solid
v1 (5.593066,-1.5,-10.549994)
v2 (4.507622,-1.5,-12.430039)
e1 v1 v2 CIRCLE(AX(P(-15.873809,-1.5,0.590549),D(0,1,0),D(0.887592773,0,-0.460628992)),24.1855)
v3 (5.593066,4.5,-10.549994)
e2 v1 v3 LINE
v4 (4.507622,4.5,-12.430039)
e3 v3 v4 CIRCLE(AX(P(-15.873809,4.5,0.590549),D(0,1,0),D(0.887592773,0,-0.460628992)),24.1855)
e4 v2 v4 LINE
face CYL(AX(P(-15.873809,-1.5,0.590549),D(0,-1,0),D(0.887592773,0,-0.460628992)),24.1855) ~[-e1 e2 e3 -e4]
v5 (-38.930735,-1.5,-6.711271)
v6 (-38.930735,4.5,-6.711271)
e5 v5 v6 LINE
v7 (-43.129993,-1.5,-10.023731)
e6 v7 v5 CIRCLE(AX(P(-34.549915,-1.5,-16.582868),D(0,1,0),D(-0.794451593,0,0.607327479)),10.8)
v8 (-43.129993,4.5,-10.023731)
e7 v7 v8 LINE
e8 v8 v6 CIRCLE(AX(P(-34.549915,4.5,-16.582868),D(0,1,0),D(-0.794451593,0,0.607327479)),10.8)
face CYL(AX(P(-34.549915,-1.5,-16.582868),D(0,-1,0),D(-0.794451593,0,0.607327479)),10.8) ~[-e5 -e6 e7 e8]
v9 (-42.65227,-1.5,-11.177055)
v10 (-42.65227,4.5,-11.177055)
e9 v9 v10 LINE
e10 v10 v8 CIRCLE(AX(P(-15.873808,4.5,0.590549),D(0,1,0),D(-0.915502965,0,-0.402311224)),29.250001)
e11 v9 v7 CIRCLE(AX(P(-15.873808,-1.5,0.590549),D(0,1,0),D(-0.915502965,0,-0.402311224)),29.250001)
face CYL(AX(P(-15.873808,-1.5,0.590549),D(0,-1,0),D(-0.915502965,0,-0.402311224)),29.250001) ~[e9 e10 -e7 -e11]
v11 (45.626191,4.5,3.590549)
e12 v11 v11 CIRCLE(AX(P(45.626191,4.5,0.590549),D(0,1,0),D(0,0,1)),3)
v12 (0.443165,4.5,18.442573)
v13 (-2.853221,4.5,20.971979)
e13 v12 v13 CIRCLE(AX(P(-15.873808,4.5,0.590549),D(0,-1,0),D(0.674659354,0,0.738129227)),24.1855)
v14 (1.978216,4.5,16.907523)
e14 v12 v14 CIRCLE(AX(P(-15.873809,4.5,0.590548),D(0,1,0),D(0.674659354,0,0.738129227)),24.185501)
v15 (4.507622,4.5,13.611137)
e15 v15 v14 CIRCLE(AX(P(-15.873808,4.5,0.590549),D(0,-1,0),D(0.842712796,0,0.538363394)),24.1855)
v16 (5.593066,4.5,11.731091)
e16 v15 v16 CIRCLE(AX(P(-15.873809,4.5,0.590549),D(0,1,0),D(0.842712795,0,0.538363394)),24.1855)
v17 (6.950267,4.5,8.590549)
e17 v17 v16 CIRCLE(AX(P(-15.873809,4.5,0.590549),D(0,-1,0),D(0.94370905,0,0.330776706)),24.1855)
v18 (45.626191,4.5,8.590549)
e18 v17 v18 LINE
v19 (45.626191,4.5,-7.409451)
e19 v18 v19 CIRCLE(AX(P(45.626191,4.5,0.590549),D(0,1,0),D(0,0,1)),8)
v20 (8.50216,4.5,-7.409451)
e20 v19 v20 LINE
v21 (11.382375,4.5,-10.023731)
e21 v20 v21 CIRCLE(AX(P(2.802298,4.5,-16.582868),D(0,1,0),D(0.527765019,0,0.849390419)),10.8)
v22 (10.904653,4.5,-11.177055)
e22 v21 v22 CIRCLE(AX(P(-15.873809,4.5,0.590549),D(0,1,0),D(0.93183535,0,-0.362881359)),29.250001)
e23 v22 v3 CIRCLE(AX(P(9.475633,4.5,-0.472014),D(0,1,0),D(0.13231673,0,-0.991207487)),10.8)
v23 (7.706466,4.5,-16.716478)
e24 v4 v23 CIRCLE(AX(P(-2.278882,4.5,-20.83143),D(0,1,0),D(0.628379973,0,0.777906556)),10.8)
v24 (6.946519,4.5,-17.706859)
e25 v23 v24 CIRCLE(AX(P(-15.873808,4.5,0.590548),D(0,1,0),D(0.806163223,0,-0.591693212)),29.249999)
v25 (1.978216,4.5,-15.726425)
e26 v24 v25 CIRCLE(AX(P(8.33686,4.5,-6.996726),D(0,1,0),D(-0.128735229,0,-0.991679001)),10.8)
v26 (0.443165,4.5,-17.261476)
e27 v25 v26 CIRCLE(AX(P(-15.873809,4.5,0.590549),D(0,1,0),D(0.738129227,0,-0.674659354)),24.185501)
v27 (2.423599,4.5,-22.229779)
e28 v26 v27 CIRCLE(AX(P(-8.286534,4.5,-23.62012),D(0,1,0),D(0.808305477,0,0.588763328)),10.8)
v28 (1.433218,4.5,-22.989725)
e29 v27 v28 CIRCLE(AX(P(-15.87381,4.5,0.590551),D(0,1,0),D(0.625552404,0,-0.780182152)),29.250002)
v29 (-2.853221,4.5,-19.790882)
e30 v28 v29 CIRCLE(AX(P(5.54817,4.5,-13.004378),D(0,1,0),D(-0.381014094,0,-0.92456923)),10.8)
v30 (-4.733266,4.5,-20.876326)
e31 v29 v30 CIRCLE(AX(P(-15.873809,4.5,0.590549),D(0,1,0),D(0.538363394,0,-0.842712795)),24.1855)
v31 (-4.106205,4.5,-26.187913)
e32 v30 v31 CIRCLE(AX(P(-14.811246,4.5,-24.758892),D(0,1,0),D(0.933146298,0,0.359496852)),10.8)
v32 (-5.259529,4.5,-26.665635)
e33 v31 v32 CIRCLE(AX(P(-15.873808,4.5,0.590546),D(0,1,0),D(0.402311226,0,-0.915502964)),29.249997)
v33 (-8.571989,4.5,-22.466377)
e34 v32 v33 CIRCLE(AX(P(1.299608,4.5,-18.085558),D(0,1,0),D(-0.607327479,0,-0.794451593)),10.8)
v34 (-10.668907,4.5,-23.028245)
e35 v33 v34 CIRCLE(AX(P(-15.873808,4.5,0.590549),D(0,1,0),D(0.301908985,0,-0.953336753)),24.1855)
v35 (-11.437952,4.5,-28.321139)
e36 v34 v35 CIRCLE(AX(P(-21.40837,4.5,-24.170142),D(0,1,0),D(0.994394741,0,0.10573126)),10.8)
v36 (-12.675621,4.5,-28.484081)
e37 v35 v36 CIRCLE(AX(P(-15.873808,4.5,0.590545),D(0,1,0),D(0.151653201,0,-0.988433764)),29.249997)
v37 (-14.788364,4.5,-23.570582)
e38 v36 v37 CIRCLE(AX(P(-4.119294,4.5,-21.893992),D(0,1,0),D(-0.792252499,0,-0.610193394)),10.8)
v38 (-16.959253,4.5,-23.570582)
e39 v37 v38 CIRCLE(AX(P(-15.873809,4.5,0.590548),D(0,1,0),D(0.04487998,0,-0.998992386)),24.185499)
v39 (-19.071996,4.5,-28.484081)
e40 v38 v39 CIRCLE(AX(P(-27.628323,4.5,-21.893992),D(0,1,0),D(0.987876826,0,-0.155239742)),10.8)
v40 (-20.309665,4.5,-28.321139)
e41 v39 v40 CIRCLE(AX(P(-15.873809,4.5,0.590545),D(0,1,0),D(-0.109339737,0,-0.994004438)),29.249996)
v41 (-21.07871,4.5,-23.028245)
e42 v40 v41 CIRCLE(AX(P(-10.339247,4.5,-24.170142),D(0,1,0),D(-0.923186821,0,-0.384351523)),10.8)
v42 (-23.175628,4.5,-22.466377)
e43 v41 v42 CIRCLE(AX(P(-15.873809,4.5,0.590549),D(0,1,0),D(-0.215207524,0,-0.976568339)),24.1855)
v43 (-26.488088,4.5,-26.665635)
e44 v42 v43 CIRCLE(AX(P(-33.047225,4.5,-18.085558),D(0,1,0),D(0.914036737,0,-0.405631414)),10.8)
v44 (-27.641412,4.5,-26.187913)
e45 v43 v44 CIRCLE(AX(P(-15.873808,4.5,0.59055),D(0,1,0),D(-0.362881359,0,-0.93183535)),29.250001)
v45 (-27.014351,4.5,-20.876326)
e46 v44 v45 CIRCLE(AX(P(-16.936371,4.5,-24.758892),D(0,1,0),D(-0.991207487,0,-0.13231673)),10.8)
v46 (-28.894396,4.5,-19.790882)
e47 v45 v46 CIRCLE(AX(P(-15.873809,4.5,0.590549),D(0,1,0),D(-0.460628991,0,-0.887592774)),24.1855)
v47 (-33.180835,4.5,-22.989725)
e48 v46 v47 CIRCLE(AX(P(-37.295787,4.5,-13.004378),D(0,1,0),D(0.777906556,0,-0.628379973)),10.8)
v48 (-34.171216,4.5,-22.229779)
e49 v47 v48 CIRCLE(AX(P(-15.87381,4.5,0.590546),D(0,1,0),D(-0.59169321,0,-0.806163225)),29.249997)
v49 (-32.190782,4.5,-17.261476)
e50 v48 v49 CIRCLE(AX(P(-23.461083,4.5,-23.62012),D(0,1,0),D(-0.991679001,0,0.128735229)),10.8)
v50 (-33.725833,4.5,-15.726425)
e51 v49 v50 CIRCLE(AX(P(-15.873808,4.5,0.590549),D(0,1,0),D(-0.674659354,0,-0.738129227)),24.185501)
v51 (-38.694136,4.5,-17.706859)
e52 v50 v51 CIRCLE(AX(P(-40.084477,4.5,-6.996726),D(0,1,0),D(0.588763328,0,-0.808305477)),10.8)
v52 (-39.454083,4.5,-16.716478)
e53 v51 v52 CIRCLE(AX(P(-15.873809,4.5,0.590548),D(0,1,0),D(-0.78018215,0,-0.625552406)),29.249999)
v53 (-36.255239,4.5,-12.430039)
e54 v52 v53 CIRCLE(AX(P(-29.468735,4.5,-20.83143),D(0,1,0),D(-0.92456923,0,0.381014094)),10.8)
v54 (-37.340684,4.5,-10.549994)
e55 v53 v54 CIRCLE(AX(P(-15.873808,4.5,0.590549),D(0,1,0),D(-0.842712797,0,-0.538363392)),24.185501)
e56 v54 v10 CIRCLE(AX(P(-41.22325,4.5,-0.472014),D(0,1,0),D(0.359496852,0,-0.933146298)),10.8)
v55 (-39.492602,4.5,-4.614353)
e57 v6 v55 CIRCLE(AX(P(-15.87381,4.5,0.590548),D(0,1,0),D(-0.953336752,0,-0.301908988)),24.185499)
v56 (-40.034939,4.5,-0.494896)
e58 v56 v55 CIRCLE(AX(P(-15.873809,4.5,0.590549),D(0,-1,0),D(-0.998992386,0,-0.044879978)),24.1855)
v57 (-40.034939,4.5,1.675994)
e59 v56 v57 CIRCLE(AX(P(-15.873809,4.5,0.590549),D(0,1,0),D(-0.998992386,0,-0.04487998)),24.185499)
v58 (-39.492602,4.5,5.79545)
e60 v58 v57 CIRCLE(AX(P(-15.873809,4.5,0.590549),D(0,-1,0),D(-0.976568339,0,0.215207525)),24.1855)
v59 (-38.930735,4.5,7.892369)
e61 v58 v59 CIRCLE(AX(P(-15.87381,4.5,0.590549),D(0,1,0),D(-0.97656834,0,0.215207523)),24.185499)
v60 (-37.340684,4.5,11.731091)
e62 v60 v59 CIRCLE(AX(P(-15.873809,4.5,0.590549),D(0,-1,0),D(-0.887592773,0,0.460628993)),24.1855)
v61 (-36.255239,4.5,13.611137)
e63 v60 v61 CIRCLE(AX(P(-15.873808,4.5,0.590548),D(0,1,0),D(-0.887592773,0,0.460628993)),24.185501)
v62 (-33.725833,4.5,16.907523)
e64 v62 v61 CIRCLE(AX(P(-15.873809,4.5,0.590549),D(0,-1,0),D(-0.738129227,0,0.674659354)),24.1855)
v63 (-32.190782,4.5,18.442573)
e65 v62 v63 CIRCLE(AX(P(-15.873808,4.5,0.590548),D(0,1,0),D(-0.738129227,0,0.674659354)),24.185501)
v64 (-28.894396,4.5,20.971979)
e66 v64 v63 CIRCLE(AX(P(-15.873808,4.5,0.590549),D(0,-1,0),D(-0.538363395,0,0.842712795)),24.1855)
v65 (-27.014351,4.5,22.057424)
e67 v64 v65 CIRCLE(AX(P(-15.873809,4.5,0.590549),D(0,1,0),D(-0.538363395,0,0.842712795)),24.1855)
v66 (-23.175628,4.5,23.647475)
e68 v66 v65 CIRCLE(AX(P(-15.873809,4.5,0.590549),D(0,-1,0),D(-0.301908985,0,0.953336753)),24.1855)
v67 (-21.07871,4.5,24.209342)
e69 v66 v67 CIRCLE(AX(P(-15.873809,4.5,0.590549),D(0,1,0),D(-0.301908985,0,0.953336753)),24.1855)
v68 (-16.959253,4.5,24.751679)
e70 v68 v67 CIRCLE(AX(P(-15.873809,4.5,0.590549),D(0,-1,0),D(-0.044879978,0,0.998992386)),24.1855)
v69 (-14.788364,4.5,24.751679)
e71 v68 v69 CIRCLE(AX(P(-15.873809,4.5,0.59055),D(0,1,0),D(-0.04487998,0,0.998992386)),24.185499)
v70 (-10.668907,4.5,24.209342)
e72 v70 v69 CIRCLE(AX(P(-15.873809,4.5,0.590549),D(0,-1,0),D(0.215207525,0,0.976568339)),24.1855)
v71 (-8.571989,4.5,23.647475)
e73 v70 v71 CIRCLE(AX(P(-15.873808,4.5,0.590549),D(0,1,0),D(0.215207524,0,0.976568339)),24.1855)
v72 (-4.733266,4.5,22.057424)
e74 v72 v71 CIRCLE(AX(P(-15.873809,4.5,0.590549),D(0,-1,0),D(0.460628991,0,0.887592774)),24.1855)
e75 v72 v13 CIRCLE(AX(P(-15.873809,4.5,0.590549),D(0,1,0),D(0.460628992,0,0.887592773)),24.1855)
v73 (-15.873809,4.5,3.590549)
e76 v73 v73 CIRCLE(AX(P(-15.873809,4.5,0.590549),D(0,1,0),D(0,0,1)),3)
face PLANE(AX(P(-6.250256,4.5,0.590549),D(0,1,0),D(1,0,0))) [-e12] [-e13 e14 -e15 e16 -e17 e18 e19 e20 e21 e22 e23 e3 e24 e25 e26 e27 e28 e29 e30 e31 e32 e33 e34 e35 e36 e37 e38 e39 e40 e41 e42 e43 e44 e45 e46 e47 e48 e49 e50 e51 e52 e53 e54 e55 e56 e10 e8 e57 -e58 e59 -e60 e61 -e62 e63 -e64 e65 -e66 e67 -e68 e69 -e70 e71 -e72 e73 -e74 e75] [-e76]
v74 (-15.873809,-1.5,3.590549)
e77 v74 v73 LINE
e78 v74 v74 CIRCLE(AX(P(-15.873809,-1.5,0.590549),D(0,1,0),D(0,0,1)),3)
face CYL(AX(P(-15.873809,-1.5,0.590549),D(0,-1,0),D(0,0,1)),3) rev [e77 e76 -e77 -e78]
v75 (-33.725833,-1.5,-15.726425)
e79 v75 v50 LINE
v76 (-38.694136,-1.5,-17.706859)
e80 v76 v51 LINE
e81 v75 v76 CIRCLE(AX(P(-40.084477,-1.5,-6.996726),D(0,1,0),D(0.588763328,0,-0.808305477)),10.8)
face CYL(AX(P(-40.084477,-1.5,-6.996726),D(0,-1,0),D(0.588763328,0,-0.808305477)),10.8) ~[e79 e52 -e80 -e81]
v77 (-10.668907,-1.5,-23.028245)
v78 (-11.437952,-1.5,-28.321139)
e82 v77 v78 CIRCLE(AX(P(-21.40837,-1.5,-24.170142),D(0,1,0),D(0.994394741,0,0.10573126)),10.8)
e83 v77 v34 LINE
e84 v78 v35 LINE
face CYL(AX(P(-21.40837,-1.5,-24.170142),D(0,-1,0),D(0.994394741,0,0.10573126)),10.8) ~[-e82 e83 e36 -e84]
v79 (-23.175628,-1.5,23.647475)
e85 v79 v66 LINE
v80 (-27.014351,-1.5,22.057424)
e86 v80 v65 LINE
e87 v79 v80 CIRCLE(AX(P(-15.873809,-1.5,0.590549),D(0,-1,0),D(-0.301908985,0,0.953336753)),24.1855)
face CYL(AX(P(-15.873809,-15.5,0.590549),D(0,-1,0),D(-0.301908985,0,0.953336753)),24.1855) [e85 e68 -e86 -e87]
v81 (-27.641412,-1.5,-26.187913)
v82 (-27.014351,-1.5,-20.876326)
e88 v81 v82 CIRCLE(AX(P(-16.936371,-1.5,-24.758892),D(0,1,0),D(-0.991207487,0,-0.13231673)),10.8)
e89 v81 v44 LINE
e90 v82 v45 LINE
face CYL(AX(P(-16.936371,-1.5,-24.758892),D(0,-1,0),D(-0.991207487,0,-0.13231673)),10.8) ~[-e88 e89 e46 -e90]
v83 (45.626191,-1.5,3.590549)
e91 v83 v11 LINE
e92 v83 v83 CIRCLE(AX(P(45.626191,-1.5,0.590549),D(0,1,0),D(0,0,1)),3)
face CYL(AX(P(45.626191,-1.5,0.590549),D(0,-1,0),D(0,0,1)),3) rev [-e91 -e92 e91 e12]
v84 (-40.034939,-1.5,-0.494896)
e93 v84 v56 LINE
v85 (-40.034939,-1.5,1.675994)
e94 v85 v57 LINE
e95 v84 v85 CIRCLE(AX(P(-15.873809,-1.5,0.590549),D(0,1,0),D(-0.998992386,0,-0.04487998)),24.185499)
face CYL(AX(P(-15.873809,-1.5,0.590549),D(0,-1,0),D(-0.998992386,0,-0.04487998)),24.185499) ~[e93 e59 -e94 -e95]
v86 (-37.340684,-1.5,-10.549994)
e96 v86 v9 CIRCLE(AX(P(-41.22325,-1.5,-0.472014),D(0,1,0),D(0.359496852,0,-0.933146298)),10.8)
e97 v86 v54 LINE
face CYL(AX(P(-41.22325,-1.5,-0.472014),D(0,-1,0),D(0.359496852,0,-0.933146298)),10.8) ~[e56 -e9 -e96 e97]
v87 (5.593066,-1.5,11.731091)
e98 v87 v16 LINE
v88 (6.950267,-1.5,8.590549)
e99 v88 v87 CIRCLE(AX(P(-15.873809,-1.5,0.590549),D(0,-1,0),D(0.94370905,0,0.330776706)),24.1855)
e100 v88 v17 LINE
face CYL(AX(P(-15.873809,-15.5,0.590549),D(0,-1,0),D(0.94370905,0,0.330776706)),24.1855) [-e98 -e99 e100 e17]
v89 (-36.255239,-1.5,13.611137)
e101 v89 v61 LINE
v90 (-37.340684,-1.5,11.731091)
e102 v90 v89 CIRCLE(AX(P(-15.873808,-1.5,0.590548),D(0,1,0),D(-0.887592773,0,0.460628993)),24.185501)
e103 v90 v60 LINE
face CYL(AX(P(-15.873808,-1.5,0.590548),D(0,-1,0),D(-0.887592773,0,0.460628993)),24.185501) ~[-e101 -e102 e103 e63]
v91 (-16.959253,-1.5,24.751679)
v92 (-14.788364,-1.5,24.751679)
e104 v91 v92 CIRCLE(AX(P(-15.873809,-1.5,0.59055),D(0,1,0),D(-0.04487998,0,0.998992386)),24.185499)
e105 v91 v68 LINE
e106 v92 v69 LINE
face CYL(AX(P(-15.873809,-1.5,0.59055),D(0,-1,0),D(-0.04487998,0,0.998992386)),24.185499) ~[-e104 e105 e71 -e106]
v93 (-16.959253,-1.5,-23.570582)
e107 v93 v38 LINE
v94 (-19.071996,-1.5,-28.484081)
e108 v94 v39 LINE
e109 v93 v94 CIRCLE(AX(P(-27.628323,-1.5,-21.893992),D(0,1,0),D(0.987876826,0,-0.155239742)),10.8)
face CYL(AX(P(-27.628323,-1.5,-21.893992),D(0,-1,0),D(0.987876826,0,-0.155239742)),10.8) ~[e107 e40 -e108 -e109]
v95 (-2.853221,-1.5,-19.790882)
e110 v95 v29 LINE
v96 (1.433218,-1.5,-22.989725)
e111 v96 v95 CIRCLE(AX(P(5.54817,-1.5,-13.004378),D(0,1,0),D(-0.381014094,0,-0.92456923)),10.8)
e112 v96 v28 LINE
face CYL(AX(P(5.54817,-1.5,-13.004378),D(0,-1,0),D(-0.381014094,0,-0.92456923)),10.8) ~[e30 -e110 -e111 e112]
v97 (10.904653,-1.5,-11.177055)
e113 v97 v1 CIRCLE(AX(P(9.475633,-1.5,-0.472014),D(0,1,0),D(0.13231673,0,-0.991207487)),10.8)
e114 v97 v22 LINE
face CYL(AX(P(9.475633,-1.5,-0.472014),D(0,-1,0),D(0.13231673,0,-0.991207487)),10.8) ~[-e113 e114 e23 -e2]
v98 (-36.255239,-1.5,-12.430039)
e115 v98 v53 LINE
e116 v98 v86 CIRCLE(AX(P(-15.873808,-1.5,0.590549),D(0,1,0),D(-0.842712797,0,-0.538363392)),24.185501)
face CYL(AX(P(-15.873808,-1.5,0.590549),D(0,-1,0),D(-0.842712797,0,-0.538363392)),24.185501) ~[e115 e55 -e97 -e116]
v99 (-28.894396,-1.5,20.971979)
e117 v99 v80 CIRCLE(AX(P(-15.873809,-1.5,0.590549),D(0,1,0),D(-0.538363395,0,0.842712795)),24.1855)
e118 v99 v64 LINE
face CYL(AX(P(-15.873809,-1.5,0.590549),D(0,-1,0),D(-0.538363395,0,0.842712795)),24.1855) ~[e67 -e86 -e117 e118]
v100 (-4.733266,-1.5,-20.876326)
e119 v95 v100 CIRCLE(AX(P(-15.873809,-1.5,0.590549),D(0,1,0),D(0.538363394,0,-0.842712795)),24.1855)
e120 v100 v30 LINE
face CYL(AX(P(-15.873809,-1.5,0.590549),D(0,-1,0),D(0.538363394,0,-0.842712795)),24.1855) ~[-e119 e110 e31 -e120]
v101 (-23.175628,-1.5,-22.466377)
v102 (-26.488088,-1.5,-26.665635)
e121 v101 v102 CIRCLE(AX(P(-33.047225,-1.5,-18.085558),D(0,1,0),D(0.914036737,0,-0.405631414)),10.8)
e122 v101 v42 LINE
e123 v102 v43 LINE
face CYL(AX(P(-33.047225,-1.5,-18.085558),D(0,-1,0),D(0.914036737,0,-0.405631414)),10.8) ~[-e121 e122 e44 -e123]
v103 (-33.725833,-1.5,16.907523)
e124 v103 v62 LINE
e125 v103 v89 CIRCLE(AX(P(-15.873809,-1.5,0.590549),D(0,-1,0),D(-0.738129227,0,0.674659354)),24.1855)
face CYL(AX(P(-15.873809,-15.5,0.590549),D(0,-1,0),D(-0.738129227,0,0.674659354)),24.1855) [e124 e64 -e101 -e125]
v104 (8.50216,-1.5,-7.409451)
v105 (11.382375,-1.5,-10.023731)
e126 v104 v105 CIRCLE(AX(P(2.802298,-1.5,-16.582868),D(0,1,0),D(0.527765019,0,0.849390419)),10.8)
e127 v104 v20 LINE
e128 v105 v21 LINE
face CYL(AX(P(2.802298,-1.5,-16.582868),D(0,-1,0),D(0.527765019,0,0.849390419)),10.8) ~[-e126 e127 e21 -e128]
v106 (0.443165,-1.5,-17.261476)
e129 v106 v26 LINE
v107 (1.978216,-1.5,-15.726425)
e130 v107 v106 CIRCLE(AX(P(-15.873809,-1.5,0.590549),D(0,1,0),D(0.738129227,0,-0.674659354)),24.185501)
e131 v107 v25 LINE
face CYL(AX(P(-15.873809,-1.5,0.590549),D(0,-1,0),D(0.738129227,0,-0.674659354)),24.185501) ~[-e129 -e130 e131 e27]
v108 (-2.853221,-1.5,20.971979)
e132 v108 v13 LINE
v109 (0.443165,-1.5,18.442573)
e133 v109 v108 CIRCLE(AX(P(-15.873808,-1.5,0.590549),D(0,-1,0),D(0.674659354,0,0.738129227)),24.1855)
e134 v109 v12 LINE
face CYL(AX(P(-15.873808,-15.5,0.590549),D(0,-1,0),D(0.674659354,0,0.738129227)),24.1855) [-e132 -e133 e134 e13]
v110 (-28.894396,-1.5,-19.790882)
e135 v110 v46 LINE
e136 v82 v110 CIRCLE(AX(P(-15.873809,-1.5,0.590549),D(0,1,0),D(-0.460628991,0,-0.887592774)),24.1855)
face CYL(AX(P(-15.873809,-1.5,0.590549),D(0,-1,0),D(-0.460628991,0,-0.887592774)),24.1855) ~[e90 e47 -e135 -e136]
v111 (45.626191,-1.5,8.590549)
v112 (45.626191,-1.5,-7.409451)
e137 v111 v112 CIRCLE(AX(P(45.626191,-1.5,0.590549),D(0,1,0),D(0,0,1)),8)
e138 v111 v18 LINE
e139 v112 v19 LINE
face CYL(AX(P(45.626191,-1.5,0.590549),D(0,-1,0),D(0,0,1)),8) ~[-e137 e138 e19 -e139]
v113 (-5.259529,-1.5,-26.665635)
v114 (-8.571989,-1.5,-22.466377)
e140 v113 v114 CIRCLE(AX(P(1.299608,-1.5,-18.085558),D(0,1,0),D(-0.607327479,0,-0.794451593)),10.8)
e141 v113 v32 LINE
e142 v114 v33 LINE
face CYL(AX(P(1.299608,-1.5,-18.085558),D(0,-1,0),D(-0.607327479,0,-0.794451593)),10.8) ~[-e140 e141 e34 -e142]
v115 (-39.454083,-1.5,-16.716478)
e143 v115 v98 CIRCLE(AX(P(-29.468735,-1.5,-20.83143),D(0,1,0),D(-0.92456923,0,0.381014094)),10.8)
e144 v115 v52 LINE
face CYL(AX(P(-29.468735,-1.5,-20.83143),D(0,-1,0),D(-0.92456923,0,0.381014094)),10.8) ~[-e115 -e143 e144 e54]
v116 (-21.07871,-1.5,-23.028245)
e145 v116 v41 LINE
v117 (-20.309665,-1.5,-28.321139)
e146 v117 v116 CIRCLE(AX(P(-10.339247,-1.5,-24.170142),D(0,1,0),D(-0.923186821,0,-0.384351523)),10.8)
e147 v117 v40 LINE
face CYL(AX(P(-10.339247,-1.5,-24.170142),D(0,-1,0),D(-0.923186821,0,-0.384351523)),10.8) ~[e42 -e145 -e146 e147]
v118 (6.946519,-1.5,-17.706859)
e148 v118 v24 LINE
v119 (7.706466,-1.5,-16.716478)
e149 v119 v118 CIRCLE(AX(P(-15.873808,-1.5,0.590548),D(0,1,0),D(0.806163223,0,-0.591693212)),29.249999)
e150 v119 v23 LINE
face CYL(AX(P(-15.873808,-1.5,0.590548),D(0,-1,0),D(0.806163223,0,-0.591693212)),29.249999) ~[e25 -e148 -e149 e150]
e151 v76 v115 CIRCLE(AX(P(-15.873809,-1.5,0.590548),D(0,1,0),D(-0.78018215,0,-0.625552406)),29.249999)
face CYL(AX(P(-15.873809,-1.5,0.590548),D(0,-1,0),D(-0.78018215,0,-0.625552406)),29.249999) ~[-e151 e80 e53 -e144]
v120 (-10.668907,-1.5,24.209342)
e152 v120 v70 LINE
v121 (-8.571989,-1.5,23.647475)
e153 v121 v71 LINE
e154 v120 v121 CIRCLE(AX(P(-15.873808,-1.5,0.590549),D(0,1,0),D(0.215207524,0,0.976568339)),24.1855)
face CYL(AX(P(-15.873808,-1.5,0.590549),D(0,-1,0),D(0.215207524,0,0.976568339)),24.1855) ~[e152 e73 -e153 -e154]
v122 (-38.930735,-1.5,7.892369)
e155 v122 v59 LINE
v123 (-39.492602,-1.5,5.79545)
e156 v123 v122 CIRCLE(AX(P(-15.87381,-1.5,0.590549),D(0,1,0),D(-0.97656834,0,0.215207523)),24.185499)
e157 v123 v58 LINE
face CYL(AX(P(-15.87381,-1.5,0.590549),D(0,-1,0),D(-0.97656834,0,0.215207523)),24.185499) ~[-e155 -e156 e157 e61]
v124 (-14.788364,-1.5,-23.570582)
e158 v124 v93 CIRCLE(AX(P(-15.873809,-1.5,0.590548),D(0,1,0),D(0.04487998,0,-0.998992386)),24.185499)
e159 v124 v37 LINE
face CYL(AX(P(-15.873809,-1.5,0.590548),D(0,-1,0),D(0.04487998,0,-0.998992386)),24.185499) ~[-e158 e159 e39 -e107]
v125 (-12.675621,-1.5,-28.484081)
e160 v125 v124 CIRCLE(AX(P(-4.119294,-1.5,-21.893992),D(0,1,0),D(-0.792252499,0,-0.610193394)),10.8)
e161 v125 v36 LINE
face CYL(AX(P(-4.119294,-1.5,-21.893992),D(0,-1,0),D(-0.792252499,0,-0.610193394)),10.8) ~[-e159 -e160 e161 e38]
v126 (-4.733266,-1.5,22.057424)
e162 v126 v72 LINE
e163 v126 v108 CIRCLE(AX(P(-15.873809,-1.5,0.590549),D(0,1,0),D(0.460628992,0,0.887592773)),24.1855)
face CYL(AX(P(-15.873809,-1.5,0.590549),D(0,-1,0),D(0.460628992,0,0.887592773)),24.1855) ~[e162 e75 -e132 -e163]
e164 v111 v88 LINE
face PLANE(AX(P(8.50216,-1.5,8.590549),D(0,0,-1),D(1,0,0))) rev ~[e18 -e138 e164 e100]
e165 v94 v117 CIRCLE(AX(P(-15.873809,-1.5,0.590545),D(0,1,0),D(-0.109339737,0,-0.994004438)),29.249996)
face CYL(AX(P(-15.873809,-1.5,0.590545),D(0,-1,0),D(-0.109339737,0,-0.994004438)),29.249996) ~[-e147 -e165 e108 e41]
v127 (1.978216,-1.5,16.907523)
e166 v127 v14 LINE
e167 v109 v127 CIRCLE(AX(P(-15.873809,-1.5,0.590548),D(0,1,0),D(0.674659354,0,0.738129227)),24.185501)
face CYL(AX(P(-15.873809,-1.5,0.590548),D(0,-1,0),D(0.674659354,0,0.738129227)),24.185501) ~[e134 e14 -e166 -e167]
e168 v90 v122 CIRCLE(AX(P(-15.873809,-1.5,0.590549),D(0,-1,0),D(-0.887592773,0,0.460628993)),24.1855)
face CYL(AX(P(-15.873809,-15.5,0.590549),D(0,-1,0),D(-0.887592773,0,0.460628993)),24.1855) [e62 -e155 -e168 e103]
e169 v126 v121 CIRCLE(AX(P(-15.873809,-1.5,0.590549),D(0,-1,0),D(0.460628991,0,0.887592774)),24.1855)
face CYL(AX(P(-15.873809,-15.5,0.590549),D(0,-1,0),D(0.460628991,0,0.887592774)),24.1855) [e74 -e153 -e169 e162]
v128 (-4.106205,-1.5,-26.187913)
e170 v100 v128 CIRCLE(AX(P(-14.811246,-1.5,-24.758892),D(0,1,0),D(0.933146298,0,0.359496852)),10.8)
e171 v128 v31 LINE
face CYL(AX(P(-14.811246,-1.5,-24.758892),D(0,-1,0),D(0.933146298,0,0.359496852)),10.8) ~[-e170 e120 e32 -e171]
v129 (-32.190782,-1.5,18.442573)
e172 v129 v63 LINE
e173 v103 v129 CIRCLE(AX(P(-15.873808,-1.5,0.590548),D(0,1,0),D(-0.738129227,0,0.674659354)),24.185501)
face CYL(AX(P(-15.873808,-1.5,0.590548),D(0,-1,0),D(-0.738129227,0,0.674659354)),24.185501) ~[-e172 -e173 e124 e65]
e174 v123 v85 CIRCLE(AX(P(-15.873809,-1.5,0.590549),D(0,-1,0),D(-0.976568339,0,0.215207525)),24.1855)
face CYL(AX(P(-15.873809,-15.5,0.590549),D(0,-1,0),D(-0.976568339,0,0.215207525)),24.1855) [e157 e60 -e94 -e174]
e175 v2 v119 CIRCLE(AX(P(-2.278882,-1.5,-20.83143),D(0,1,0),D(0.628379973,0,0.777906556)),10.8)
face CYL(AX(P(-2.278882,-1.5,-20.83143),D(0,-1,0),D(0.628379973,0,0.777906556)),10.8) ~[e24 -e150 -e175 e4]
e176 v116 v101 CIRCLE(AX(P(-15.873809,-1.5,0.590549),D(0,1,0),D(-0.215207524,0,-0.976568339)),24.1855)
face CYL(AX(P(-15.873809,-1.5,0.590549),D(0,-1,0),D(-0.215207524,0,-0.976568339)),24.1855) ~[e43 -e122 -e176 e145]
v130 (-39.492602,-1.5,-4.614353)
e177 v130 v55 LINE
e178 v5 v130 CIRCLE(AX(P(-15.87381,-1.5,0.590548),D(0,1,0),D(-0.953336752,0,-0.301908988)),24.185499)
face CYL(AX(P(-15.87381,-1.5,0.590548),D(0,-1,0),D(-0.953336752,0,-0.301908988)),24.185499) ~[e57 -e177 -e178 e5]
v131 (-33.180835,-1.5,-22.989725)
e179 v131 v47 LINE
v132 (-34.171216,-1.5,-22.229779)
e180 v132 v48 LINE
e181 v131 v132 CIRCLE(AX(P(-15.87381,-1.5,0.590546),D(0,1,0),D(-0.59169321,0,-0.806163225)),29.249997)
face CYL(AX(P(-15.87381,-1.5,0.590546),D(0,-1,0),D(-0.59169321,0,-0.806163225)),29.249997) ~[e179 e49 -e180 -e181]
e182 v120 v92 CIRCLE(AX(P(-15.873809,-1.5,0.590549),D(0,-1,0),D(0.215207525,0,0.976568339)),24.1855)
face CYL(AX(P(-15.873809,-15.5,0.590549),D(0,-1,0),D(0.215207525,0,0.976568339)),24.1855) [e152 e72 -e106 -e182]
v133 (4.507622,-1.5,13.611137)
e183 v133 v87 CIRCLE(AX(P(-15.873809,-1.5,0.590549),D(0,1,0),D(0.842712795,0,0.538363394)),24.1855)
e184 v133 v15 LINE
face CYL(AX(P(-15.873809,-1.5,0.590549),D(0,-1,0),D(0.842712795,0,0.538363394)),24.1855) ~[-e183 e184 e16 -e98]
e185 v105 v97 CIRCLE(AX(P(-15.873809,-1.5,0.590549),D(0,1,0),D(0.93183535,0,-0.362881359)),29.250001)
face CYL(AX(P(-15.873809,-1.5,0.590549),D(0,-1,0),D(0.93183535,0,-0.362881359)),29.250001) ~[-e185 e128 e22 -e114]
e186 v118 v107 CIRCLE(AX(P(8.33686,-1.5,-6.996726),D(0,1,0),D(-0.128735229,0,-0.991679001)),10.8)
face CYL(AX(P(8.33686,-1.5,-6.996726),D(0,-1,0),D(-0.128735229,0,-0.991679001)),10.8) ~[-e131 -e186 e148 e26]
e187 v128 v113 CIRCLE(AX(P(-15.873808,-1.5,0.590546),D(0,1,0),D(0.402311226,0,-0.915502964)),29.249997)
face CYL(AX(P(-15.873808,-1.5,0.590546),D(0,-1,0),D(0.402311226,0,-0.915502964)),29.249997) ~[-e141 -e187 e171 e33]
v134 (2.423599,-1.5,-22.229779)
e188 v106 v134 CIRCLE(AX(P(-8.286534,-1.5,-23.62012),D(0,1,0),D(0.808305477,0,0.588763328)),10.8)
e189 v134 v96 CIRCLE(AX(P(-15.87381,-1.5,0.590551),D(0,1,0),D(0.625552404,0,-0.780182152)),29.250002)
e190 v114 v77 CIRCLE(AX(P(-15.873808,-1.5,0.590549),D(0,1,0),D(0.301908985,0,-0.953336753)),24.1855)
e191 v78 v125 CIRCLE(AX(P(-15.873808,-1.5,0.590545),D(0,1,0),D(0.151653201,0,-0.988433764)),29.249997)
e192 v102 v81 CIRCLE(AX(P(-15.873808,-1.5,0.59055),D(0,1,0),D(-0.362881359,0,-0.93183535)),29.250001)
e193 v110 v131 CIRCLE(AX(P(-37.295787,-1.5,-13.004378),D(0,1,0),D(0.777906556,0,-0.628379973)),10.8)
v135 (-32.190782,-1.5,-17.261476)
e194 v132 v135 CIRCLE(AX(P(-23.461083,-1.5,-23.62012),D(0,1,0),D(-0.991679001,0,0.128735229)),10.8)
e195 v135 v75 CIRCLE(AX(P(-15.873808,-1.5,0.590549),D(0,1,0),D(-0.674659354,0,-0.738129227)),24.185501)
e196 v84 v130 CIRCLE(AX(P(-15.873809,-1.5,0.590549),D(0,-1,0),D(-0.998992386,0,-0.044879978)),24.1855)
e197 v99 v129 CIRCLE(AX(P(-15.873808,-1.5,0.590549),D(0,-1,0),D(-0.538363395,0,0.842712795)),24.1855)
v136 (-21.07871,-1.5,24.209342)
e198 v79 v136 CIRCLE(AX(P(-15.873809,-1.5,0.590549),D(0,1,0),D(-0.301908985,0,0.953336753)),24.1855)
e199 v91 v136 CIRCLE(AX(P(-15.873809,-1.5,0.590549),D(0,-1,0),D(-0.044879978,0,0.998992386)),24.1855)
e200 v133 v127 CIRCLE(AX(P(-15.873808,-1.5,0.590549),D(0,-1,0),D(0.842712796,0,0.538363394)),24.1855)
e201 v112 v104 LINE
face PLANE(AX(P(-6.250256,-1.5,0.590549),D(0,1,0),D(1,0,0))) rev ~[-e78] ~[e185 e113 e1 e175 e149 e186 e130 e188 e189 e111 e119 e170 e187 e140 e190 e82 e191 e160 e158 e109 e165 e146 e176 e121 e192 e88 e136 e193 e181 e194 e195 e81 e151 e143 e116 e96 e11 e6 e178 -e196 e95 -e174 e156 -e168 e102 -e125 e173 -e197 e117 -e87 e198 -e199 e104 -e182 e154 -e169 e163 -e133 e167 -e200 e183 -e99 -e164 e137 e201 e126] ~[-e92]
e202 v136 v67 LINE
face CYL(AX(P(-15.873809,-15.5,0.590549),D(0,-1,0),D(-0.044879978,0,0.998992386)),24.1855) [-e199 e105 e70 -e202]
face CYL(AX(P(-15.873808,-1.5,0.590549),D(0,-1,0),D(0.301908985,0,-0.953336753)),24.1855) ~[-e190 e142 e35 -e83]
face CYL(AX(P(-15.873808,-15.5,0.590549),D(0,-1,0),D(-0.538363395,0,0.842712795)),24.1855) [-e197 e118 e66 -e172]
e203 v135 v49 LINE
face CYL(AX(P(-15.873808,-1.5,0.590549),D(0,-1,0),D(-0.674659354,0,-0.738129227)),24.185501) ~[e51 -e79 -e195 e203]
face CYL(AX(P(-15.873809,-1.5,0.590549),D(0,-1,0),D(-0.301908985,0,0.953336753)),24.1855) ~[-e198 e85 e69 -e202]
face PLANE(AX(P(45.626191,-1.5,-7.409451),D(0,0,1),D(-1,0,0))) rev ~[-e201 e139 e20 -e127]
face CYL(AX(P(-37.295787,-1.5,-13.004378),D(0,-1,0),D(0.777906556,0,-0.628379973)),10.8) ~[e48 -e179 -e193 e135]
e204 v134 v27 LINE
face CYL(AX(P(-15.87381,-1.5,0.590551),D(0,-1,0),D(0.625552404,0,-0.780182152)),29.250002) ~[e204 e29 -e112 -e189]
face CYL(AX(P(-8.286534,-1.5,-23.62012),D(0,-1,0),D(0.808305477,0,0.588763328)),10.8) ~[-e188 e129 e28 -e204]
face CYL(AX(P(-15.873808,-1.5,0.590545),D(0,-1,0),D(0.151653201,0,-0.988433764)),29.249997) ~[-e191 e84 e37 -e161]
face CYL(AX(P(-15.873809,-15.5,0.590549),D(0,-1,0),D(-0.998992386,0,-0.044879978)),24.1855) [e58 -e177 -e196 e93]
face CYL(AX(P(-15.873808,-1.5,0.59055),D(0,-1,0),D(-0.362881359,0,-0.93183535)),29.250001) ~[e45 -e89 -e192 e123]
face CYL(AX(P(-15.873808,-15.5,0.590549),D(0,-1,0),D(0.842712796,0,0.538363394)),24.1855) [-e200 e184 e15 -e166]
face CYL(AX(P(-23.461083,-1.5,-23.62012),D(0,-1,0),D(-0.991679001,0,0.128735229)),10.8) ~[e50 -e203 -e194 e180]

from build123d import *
from build123d.topology import SkipClean

# Parameters (mm, degrees)
SKETCH1_R           = 1.5
BOSS_EXTRUDE1_DEPTH = 3
CUT_EXTRUDE1_START  = -10
CUT_EXTRUDE1_DEPTH  = 10
SCALE1_SCALE        = 2


with BuildPart() as part:
    # Sketch1 → Boss-Extrude1 (new body)
    with BuildSketch(Plane(origin=(0, 0, 0), x_dir=(1, 0, 0), z_dir=(0, 1, 0))):
        with BuildLine():
            Line((20.643657446, 4), (2.081641936, 4))
            ThreePointArc((2.081641936, 4), (2.861028333, 4.588201733), (3.521749436, 5.30713988))
            ThreePointArc((3.521749436, 5.30713988), (3.405395609, 5.596745198), (3.282888305, 5.883801663))
            ThreePointArc((3.282888305, 5.883801663), (1.93527598, 5.894040025), (0.627094961, 5.57027124))
            ThreePointArc((0.627094961, 5.57027124), (0.366286148, 6.046375), (0.084372603, 6.510293938))
            ThreePointArc((0.084372603, 6.510293938), (1.018855105, 7.48132754), (1.683794586, 8.65351323))
            ThreePointArc((1.683794586, 8.65351323), (1.496450048, 8.903135899), (1.303821399, 9.148703928))
            ThreePointArc((1.303821399, 9.148703928), (-0.000522033, 8.809805691), (-1.180330337, 8.158486898))
            ThreePointArc((-1.180330337, 8.158486898), (-1.555477026, 8.550865528), (-1.947855656, 8.926012217))
            ThreePointArc((-1.947855656, 8.926012217), (-1.296536862, 10.105820521), (-0.957638625, 11.410163953))
            ThreePointArc((-0.957638625, 11.410163953), (-1.203206655, 11.602792602), (-1.452829324, 11.79013714))
            ThreePointArc((-1.452829324, 11.79013714), (-2.625015014, 11.125197659), (-3.596048616, 10.190715157))
            ThreePointArc((-3.596048616, 10.190715157), (-4.059967554, 10.472628702), (-4.536071314, 10.733437515))
            ThreePointArc((-4.536071314, 10.733437515), (-4.212302529, 12.041618533), (-4.222540891, 13.389230859))
            ThreePointArc((-4.222540891, 13.389230859), (-4.509597355, 13.511738163), (-4.799202674, 13.62809199))
            ThreePointArc((-4.799202674, 13.62809199), (-5.759348103, 12.682425791), (-6.455432668, 11.528463019))
            ThreePointArc((-6.455432668, 11.528463019), (-6.976508546, 11.680699536), (-7.503891752, 11.809396783))
            ThreePointArc((-7.503891752, 11.809396783), (-7.529737283, 13.156800143), (-7.888414517, 14.455843809))
            ThreePointArc((-7.888414517, 14.455843809), (-8.197396993, 14.499881098), (-8.507248835, 14.537314892))
            ThreePointArc((-8.507248835, 14.537314892), (-9.18992168, 13.375367565), (-9.563620196, 12.080565177))
            ThreePointArc((-9.563620196, 12.080565177), (-10.106342554, 12.09275), (-10.649064912, 12.080565177))
            ThreePointArc((-10.649064912, 12.080565177), (-11.022763428, 13.375367565), (-11.705436272, 14.537314892))
            ThreePointArc((-11.705436272, 14.537314892), (-12.015288115, 14.499881098), (-12.324270591, 14.455843809))
            ThreePointArc((-12.324270591, 14.455843809), (-12.682947825, 13.156800143), (-12.708793355, 11.809396783))
            ThreePointArc((-12.708793355, 11.809396783), (-13.236176561, 11.680699536), (-13.757252439, 11.528463019))
            ThreePointArc((-13.757252439, 11.528463019), (-14.453337005, 12.682425791), (-15.413482434, 13.62809199))
            ThreePointArc((-15.413482434, 13.62809199), (-15.703087752, 13.511738163), (-15.990144217, 13.389230859))
            ThreePointArc((-15.990144217, 13.389230859), (-16.000382579, 12.041618533), (-15.676613793, 10.733437515))
            ThreePointArc((-15.676613793, 10.733437515), (-16.152717554, 10.472628702), (-16.616636492, 10.190715157))
            ThreePointArc((-16.616636492, 10.190715157), (-17.587670094, 11.125197659), (-18.759855783, 11.79013714))
            ThreePointArc((-18.759855783, 11.79013714), (-19.009478453, 11.602792602), (-19.255046482, 11.410163953))
            ThreePointArc((-19.255046482, 11.410163953), (-18.916148245, 10.105820521), (-18.264829452, 8.926012217))
            ThreePointArc((-18.264829452, 8.926012217), (-18.657208082, 8.550865528), (-19.032354771, 8.158486898))
            ThreePointArc((-19.032354771, 8.158486898), (-20.212163074, 8.809805691), (-21.516506507, 9.148703928))
            ThreePointArc((-21.516506507, 9.148703928), (-21.709135156, 8.903135899), (-21.896479694, 8.65351323))
            ThreePointArc((-21.896479694, 8.65351323), (-21.231540213, 7.48132754), (-20.297057711, 6.510293938))
            ThreePointArc((-20.297057711, 6.510293938), (-20.578971255, 6.046375), (-20.839780068, 5.57027124))
            ThreePointArc((-20.839780068, 5.57027124), (-22.147961087, 5.894040025), (-23.495573413, 5.883801663))
            ThreePointArc((-23.495573413, 5.883801663), (-23.618080717, 5.596745198), (-23.734434544, 5.30713988))
            ThreePointArc((-23.734434544, 5.30713988), (-22.788768345, 4.346994451), (-21.634805572, 3.650909885))
            ThreePointArc((-21.634805572, 3.650909885), (-21.78704209, 3.129834008), (-21.915739337, 2.602450802))
            ThreePointArc((-21.915739337, 2.602450802), (-23.263142697, 2.576605271), (-24.562186363, 2.217928037))
            ThreePointArc((-24.562186363, 2.217928037), (-24.606223651, 1.908945561), (-24.643657446, 1.599093719))
            ThreePointArc((-24.643657446, 1.599093719), (-23.481710119, 0.916420874), (-22.186907731, 0.542722358))
            ThreePointArc((-22.186907731, 0.542722358), (-22.199092554, 0), (-22.186907731, -0.542722358))
            ThreePointArc((-22.186907731, -0.542722358), (-23.481710119, -0.916420874), (-24.643657446, -1.599093719))
            ThreePointArc((-24.643657446, -1.599093719), (-24.606223651, -1.908945561), (-24.562186363, -2.217928037))
            ThreePointArc((-24.562186363, -2.217928037), (-23.263142697, -2.576605271), (-21.915739337, -2.602450802))
            ThreePointArc((-21.915739337, -2.602450802), (-21.78704209, -3.129834008), (-21.634805572, -3.650909885))
            ThreePointArc((-21.634805572, -3.650909885), (-22.788768345, -4.346994451), (-23.734434544, -5.30713988))
            ThreePointArc((-23.734434544, -5.30713988), (-23.618080717, -5.596745198), (-23.495573413, -5.883801663))
            ThreePointArc((-23.495573413, -5.883801663), (-22.147961087, -5.894040025), (-20.839780068, -5.57027124))
            ThreePointArc((-20.839780068, -5.57027124), (-20.578971255, -6.046375), (-20.297057711, -6.510293938))
            ThreePointArc((-20.297057711, -6.510293938), (-21.231540213, -7.48132754), (-21.896479694, -8.65351323))
            ThreePointArc((-21.896479694, -8.65351323), (-21.709135156, -8.903135899), (-21.516506507, -9.148703928))
            ThreePointArc((-21.516506507, -9.148703928), (-20.212163074, -8.809805691), (-19.032354771, -8.158486898))
            ThreePointArc((-19.032354771, -8.158486898), (-18.657208082, -8.550865528), (-18.264829452, -8.926012217))
            ThreePointArc((-18.264829452, -8.926012217), (-18.916148245, -10.105820521), (-19.255046482, -11.410163953))
            ThreePointArc((-19.255046482, -11.410163953), (-19.009478453, -11.602792602), (-18.759855783, -11.79013714))
            ThreePointArc((-18.759855783, -11.79013714), (-17.587670094, -11.125197659), (-16.616636492, -10.190715157))
            ThreePointArc((-16.616636492, -10.190715157), (-16.152717554, -10.472628702), (-15.676613793, -10.733437515))
            ThreePointArc((-15.676613793, -10.733437515), (-16.000382579, -12.041618533), (-15.990144217, -13.389230859))
            ThreePointArc((-15.990144217, -13.389230859), (-15.703087752, -13.511738163), (-15.413482434, -13.62809199))
            ThreePointArc((-15.413482434, -13.62809199), (-14.453337005, -12.682425791), (-13.757252439, -11.528463019))
            ThreePointArc((-13.757252439, -11.528463019), (-13.236176561, -11.680699536), (-12.708793355, -11.809396783))
            ThreePointArc((-12.708793355, -11.809396783), (-12.682947825, -13.156800143), (-12.324270591, -14.455843809))
            ThreePointArc((-12.324270591, -14.455843809), (-12.015288115, -14.499881098), (-11.705436272, -14.537314892))
            ThreePointArc((-11.705436272, -14.537314892), (-11.022763428, -13.375367565), (-10.649064912, -12.080565177))
            ThreePointArc((-10.649064912, -12.080565177), (-10.106342554, -12.09275), (-9.563620196, -12.080565177))
            ThreePointArc((-9.563620196, -12.080565177), (-9.18992168, -13.375367565), (-8.507248835, -14.537314892))
            ThreePointArc((-8.507248835, -14.537314892), (-8.197396993, -14.499881098), (-7.888414517, -14.455843809))
            ThreePointArc((-7.888414517, -14.455843809), (-7.529737283, -13.156800143), (-7.503891752, -11.809396783))
            ThreePointArc((-7.503891752, -11.809396783), (-6.976508546, -11.680699536), (-6.455432668, -11.528463019))
            ThreePointArc((-6.455432668, -11.528463019), (-5.759348103, -12.682425791), (-4.799202674, -13.62809199))
            ThreePointArc((-4.799202674, -13.62809199), (-4.509597355, -13.511738163), (-4.222540891, -13.389230859))
            ThreePointArc((-4.222540891, -13.389230859), (-4.212302529, -12.041618533), (-4.536071314, -10.733437515))
            ThreePointArc((-4.536071314, -10.733437515), (-4.059967554, -10.472628702), (-3.596048616, -10.190715157))
            ThreePointArc((-3.596048616, -10.190715157), (-2.625015014, -11.125197659), (-1.452829324, -11.79013714))
            ThreePointArc((-1.452829324, -11.79013714), (-1.203206655, -11.602792602), (-0.957638625, -11.410163953))
            ThreePointArc((-0.957638625, -11.410163953), (-1.296536862, -10.105820521), (-1.947855656, -8.926012217))
            ThreePointArc((-1.947855656, -8.926012217), (-1.555477026, -8.550865528), (-1.180330337, -8.158486898))
            ThreePointArc((-1.180330337, -8.158486898), (-0.000522033, -8.809805691), (1.303821399, -9.148703928))
            ThreePointArc((1.303821399, -9.148703928), (1.496450048, -8.903135899), (1.683794586, -8.65351323))
            ThreePointArc((1.683794586, -8.65351323), (1.018855105, -7.48132754), (0.084372603, -6.510293938))
            ThreePointArc((0.084372603, -6.510293938), (0.366286148, -6.046375), (0.627094961, -5.57027124))
            ThreePointArc((0.627094961, -5.57027124), (1.93527598, -5.894040025), (3.282888305, -5.883801663))
            ThreePointArc((3.282888305, -5.883801663), (3.405395609, -5.596745198), (3.521749436, -5.30713988))
            ThreePointArc((3.521749436, -5.30713988), (2.861028333, -4.588201733), (2.081641936, -4))
            Line((2.081641936, -4), (20.643657446, -4))
            ThreePointArc((20.643657446, -4), (24.643657446, 0), (20.643657446, 4))
        make_face()
        with Locations(Location((-10.106342554, 0, 0), (0, 0, 270))):
            Circle(SKETCH1_R, mode=Mode.SUBTRACT)
        with Locations(Location((20.643657446, 0, 0), (0, 0, 270))):
            Circle(SKETCH1_R, mode=Mode.SUBTRACT)
    extrude(amount=BOSS_EXTRUDE1_DEPTH)

    # Sketch2 → Cut-Extrude1 (cut)
    with SkipClean():  # the faces are left unmerged after this step: merging them gives an invalid solid
        with BuildSketch(Plane(origin=(0, 3, 0), x_dir=(1, 0, 0), z_dir=(0, 1, 0)).offset(CUT_EXTRUDE1_START)):
            with BuildLine():
                ThreePointArc((-24.562186363, -2.217928037), (-23.263142697, -2.576605271), (-21.915739337, -2.602450802))
                ThreePointArc((-21.915739337, -2.602450802), (-22.095637401, -1.578420611), (-22.186907731, -0.542722358))
                ThreePointArc((-22.186907731, -0.542722358), (-23.481710119, -0.916420874), (-24.643657446, -1.599093719))
                ThreePointArc((-24.643657446, -1.599093719), (-24.606223651, -1.908945561), (-24.562186363, -2.217928037))
            make_face()
            with BuildLine():
                ThreePointArc((-23.495573413, -5.883801663), (-22.147961087, -5.894040025), (-20.839780068, -5.57027124))
                ThreePointArc((-20.839780068, -5.57027124), (-21.278586771, -4.627695077), (-21.634805572, -3.650909885))
                ThreePointArc((-21.634805572, -3.650909885), (-22.788768345, -4.346994451), (-23.734434544, -5.30713988))
                ThreePointArc((-23.734434544, -5.30713988), (-23.618080717, -5.596745198), (-23.495573413, -5.883801663))
            make_face()
            with BuildLine():
                ThreePointArc((-21.516506507, -9.148703928), (-20.212163074, -8.809805691), (-19.032354771, -8.158486898))
                ThreePointArc((-19.032354771, -8.158486898), (-19.70016616, -7.361599771), (-20.297057711, -6.510293938))
                ThreePointArc((-20.297057711, -6.510293938), (-21.231540213, -7.48132754), (-21.896479694, -8.65351323))
                ThreePointArc((-21.896479694, -8.65351323), (-21.709135156, -8.903135899), (-21.516506507, -9.148703928))
            make_face()
            with BuildLine():
                ThreePointArc((-18.759855783, -11.79013714), (-17.587670094, -11.125197659), (-16.616636492, -10.190715157))
                ThreePointArc((-16.616636492, -10.190715157), (-17.467942324, -9.593823606), (-18.264829452, -8.926012217))
                ThreePointArc((-18.264829452, -8.926012217), (-18.916148245, -10.105820521), (-19.255046482, -11.410163953))
                ThreePointArc((-19.255046482, -11.410163953), (-19.009478453, -11.602792602), (-18.759855783, -11.79013714))
            make_face()
            with BuildLine():
                ThreePointArc((-15.413482434, -13.62809199), (-14.453337005, -12.682425791), (-13.757252439, -11.528463019))
                ThreePointArc((-13.757252439, -11.528463019), (-14.734037631, -11.172244217), (-15.676613793, -10.733437515))
                ThreePointArc((-15.676613793, -10.733437515), (-16.000382579, -12.041618533), (-15.990144217, -13.389230859))
                ThreePointArc((-15.990144217, -13.389230859), (-15.703087752, -13.511738163), (-15.413482434, -13.62809199))
            make_face()
            with BuildLine():
                ThreePointArc((-11.705436272, -14.537314892), (-11.022763428, -13.375367565), (-10.649064912, -12.080565177))
                ThreePointArc((-10.649064912, -12.080565177), (-11.684763165, -11.989294847), (-12.708793355, -11.809396783))
                ThreePointArc((-12.708793355, -11.809396783), (-12.682947825, -13.156800143), (-12.324270591, -14.455843809))
                ThreePointArc((-12.324270591, -14.455843809), (-12.015288115, -14.499881098), (-11.705436272, -14.537314892))
            make_face()
            with BuildLine():
                ThreePointArc((-7.888414517, -14.455843809), (-7.529737283, -13.156800143), (-7.503891752, -11.809396783))
                ThreePointArc((-7.503891752, -11.809396783), (-8.527921943, -11.989294847), (-9.563620196, -12.080565177))
                ThreePointArc((-9.563620196, -12.080565177), (-9.18992168, -13.375367565), (-8.507248835, -14.537314892))
                ThreePointArc((-8.507248835, -14.537314892), (-8.197396993, -14.499881098), (-7.888414517, -14.455843809))
            make_face()
            with BuildLine():
                ThreePointArc((-4.222540891, -13.389230859), (-4.212302529, -12.041618533), (-4.536071314, -10.733437515))
                ThreePointArc((-4.536071314, -10.733437515), (-5.478647477, -11.172244217), (-6.455432668, -11.528463019))
                ThreePointArc((-6.455432668, -11.528463019), (-5.759348103, -12.682425791), (-4.799202674, -13.62809199))
                ThreePointArc((-4.799202674, -13.62809199), (-4.509597355, -13.511738163), (-4.222540891, -13.389230859))
            make_face()
            with BuildLine():
                ThreePointArc((-0.957638625, -11.410163953), (-1.296536862, -10.105820521), (-1.947855656, -8.926012217))
                ThreePointArc((-1.947855656, -8.926012217), (-2.744742783, -9.593823606), (-3.596048616, -10.190715157))
                ThreePointArc((-3.596048616, -10.190715157), (-2.625015014, -11.125197659), (-1.452829324, -11.79013714))
                ThreePointArc((-1.452829324, -11.79013714), (-1.203206655, -11.602792602), (-0.957638625, -11.410163953))
            make_face()
            with BuildLine():
                ThreePointArc((1.683794586, -8.65351323), (1.018855105, -7.48132754), (0.084372603, -6.510293938))
                ThreePointArc((0.084372603, -6.510293938), (-0.512518948, -7.361599771), (-1.180330337, -8.158486898))
                ThreePointArc((-1.180330337, -8.158486898), (-0.000522033, -8.809805691), (1.303821399, -9.148703928))
                ThreePointArc((1.303821399, -9.148703928), (1.496450048, -8.903135899), (1.683794586, -8.65351323))
            make_face()
            with BuildLine():
                ThreePointArc((3.521749436, -5.30713988), (2.861028333, -4.588201733), (2.081641936, -4))
                Line((2.081641936, -4), (1.305695063, -4))
                ThreePointArc((1.305695063, -4), (0.994195953, -4.797149927), (0.627094961, -5.57027124))
                ThreePointArc((0.627094961, -5.57027124), (1.93527598, -5.894040025), (3.282888305, -5.883801663))
                ThreePointArc((3.282888305, -5.883801663), (3.405395609, -5.596745198), (3.521749436, -5.30713988))
            make_face()
            with BuildLine():
                ThreePointArc((-22.186907731, 0.542722358), (-22.095637401, 1.578420611), (-21.915739337, 2.602450802))
                ThreePointArc((-21.915739337, 2.602450802), (-23.263142697, 2.576605271), (-24.562186363, 2.217928037))
                ThreePointArc((-24.562186363, 2.217928037), (-24.606223651, 1.908945561), (-24.643657446, 1.599093719))
                ThreePointArc((-24.643657446, 1.599093719), (-23.481710119, 0.916420874), (-22.186907731, 0.542722358))
            make_face()
        extrude(amount=CUT_EXTRUDE1_DEPTH, mode=Mode.SUBTRACT)


with BuildPart() as part_1:
    # Scale1: scaled about (-4.338876576, 1.5, -0.590548785)
    add(part.part.scale(SCALE1_SCALE).moved(Location((4.338876576, -1.5, 0.590548785))))


solid = part_1.part
